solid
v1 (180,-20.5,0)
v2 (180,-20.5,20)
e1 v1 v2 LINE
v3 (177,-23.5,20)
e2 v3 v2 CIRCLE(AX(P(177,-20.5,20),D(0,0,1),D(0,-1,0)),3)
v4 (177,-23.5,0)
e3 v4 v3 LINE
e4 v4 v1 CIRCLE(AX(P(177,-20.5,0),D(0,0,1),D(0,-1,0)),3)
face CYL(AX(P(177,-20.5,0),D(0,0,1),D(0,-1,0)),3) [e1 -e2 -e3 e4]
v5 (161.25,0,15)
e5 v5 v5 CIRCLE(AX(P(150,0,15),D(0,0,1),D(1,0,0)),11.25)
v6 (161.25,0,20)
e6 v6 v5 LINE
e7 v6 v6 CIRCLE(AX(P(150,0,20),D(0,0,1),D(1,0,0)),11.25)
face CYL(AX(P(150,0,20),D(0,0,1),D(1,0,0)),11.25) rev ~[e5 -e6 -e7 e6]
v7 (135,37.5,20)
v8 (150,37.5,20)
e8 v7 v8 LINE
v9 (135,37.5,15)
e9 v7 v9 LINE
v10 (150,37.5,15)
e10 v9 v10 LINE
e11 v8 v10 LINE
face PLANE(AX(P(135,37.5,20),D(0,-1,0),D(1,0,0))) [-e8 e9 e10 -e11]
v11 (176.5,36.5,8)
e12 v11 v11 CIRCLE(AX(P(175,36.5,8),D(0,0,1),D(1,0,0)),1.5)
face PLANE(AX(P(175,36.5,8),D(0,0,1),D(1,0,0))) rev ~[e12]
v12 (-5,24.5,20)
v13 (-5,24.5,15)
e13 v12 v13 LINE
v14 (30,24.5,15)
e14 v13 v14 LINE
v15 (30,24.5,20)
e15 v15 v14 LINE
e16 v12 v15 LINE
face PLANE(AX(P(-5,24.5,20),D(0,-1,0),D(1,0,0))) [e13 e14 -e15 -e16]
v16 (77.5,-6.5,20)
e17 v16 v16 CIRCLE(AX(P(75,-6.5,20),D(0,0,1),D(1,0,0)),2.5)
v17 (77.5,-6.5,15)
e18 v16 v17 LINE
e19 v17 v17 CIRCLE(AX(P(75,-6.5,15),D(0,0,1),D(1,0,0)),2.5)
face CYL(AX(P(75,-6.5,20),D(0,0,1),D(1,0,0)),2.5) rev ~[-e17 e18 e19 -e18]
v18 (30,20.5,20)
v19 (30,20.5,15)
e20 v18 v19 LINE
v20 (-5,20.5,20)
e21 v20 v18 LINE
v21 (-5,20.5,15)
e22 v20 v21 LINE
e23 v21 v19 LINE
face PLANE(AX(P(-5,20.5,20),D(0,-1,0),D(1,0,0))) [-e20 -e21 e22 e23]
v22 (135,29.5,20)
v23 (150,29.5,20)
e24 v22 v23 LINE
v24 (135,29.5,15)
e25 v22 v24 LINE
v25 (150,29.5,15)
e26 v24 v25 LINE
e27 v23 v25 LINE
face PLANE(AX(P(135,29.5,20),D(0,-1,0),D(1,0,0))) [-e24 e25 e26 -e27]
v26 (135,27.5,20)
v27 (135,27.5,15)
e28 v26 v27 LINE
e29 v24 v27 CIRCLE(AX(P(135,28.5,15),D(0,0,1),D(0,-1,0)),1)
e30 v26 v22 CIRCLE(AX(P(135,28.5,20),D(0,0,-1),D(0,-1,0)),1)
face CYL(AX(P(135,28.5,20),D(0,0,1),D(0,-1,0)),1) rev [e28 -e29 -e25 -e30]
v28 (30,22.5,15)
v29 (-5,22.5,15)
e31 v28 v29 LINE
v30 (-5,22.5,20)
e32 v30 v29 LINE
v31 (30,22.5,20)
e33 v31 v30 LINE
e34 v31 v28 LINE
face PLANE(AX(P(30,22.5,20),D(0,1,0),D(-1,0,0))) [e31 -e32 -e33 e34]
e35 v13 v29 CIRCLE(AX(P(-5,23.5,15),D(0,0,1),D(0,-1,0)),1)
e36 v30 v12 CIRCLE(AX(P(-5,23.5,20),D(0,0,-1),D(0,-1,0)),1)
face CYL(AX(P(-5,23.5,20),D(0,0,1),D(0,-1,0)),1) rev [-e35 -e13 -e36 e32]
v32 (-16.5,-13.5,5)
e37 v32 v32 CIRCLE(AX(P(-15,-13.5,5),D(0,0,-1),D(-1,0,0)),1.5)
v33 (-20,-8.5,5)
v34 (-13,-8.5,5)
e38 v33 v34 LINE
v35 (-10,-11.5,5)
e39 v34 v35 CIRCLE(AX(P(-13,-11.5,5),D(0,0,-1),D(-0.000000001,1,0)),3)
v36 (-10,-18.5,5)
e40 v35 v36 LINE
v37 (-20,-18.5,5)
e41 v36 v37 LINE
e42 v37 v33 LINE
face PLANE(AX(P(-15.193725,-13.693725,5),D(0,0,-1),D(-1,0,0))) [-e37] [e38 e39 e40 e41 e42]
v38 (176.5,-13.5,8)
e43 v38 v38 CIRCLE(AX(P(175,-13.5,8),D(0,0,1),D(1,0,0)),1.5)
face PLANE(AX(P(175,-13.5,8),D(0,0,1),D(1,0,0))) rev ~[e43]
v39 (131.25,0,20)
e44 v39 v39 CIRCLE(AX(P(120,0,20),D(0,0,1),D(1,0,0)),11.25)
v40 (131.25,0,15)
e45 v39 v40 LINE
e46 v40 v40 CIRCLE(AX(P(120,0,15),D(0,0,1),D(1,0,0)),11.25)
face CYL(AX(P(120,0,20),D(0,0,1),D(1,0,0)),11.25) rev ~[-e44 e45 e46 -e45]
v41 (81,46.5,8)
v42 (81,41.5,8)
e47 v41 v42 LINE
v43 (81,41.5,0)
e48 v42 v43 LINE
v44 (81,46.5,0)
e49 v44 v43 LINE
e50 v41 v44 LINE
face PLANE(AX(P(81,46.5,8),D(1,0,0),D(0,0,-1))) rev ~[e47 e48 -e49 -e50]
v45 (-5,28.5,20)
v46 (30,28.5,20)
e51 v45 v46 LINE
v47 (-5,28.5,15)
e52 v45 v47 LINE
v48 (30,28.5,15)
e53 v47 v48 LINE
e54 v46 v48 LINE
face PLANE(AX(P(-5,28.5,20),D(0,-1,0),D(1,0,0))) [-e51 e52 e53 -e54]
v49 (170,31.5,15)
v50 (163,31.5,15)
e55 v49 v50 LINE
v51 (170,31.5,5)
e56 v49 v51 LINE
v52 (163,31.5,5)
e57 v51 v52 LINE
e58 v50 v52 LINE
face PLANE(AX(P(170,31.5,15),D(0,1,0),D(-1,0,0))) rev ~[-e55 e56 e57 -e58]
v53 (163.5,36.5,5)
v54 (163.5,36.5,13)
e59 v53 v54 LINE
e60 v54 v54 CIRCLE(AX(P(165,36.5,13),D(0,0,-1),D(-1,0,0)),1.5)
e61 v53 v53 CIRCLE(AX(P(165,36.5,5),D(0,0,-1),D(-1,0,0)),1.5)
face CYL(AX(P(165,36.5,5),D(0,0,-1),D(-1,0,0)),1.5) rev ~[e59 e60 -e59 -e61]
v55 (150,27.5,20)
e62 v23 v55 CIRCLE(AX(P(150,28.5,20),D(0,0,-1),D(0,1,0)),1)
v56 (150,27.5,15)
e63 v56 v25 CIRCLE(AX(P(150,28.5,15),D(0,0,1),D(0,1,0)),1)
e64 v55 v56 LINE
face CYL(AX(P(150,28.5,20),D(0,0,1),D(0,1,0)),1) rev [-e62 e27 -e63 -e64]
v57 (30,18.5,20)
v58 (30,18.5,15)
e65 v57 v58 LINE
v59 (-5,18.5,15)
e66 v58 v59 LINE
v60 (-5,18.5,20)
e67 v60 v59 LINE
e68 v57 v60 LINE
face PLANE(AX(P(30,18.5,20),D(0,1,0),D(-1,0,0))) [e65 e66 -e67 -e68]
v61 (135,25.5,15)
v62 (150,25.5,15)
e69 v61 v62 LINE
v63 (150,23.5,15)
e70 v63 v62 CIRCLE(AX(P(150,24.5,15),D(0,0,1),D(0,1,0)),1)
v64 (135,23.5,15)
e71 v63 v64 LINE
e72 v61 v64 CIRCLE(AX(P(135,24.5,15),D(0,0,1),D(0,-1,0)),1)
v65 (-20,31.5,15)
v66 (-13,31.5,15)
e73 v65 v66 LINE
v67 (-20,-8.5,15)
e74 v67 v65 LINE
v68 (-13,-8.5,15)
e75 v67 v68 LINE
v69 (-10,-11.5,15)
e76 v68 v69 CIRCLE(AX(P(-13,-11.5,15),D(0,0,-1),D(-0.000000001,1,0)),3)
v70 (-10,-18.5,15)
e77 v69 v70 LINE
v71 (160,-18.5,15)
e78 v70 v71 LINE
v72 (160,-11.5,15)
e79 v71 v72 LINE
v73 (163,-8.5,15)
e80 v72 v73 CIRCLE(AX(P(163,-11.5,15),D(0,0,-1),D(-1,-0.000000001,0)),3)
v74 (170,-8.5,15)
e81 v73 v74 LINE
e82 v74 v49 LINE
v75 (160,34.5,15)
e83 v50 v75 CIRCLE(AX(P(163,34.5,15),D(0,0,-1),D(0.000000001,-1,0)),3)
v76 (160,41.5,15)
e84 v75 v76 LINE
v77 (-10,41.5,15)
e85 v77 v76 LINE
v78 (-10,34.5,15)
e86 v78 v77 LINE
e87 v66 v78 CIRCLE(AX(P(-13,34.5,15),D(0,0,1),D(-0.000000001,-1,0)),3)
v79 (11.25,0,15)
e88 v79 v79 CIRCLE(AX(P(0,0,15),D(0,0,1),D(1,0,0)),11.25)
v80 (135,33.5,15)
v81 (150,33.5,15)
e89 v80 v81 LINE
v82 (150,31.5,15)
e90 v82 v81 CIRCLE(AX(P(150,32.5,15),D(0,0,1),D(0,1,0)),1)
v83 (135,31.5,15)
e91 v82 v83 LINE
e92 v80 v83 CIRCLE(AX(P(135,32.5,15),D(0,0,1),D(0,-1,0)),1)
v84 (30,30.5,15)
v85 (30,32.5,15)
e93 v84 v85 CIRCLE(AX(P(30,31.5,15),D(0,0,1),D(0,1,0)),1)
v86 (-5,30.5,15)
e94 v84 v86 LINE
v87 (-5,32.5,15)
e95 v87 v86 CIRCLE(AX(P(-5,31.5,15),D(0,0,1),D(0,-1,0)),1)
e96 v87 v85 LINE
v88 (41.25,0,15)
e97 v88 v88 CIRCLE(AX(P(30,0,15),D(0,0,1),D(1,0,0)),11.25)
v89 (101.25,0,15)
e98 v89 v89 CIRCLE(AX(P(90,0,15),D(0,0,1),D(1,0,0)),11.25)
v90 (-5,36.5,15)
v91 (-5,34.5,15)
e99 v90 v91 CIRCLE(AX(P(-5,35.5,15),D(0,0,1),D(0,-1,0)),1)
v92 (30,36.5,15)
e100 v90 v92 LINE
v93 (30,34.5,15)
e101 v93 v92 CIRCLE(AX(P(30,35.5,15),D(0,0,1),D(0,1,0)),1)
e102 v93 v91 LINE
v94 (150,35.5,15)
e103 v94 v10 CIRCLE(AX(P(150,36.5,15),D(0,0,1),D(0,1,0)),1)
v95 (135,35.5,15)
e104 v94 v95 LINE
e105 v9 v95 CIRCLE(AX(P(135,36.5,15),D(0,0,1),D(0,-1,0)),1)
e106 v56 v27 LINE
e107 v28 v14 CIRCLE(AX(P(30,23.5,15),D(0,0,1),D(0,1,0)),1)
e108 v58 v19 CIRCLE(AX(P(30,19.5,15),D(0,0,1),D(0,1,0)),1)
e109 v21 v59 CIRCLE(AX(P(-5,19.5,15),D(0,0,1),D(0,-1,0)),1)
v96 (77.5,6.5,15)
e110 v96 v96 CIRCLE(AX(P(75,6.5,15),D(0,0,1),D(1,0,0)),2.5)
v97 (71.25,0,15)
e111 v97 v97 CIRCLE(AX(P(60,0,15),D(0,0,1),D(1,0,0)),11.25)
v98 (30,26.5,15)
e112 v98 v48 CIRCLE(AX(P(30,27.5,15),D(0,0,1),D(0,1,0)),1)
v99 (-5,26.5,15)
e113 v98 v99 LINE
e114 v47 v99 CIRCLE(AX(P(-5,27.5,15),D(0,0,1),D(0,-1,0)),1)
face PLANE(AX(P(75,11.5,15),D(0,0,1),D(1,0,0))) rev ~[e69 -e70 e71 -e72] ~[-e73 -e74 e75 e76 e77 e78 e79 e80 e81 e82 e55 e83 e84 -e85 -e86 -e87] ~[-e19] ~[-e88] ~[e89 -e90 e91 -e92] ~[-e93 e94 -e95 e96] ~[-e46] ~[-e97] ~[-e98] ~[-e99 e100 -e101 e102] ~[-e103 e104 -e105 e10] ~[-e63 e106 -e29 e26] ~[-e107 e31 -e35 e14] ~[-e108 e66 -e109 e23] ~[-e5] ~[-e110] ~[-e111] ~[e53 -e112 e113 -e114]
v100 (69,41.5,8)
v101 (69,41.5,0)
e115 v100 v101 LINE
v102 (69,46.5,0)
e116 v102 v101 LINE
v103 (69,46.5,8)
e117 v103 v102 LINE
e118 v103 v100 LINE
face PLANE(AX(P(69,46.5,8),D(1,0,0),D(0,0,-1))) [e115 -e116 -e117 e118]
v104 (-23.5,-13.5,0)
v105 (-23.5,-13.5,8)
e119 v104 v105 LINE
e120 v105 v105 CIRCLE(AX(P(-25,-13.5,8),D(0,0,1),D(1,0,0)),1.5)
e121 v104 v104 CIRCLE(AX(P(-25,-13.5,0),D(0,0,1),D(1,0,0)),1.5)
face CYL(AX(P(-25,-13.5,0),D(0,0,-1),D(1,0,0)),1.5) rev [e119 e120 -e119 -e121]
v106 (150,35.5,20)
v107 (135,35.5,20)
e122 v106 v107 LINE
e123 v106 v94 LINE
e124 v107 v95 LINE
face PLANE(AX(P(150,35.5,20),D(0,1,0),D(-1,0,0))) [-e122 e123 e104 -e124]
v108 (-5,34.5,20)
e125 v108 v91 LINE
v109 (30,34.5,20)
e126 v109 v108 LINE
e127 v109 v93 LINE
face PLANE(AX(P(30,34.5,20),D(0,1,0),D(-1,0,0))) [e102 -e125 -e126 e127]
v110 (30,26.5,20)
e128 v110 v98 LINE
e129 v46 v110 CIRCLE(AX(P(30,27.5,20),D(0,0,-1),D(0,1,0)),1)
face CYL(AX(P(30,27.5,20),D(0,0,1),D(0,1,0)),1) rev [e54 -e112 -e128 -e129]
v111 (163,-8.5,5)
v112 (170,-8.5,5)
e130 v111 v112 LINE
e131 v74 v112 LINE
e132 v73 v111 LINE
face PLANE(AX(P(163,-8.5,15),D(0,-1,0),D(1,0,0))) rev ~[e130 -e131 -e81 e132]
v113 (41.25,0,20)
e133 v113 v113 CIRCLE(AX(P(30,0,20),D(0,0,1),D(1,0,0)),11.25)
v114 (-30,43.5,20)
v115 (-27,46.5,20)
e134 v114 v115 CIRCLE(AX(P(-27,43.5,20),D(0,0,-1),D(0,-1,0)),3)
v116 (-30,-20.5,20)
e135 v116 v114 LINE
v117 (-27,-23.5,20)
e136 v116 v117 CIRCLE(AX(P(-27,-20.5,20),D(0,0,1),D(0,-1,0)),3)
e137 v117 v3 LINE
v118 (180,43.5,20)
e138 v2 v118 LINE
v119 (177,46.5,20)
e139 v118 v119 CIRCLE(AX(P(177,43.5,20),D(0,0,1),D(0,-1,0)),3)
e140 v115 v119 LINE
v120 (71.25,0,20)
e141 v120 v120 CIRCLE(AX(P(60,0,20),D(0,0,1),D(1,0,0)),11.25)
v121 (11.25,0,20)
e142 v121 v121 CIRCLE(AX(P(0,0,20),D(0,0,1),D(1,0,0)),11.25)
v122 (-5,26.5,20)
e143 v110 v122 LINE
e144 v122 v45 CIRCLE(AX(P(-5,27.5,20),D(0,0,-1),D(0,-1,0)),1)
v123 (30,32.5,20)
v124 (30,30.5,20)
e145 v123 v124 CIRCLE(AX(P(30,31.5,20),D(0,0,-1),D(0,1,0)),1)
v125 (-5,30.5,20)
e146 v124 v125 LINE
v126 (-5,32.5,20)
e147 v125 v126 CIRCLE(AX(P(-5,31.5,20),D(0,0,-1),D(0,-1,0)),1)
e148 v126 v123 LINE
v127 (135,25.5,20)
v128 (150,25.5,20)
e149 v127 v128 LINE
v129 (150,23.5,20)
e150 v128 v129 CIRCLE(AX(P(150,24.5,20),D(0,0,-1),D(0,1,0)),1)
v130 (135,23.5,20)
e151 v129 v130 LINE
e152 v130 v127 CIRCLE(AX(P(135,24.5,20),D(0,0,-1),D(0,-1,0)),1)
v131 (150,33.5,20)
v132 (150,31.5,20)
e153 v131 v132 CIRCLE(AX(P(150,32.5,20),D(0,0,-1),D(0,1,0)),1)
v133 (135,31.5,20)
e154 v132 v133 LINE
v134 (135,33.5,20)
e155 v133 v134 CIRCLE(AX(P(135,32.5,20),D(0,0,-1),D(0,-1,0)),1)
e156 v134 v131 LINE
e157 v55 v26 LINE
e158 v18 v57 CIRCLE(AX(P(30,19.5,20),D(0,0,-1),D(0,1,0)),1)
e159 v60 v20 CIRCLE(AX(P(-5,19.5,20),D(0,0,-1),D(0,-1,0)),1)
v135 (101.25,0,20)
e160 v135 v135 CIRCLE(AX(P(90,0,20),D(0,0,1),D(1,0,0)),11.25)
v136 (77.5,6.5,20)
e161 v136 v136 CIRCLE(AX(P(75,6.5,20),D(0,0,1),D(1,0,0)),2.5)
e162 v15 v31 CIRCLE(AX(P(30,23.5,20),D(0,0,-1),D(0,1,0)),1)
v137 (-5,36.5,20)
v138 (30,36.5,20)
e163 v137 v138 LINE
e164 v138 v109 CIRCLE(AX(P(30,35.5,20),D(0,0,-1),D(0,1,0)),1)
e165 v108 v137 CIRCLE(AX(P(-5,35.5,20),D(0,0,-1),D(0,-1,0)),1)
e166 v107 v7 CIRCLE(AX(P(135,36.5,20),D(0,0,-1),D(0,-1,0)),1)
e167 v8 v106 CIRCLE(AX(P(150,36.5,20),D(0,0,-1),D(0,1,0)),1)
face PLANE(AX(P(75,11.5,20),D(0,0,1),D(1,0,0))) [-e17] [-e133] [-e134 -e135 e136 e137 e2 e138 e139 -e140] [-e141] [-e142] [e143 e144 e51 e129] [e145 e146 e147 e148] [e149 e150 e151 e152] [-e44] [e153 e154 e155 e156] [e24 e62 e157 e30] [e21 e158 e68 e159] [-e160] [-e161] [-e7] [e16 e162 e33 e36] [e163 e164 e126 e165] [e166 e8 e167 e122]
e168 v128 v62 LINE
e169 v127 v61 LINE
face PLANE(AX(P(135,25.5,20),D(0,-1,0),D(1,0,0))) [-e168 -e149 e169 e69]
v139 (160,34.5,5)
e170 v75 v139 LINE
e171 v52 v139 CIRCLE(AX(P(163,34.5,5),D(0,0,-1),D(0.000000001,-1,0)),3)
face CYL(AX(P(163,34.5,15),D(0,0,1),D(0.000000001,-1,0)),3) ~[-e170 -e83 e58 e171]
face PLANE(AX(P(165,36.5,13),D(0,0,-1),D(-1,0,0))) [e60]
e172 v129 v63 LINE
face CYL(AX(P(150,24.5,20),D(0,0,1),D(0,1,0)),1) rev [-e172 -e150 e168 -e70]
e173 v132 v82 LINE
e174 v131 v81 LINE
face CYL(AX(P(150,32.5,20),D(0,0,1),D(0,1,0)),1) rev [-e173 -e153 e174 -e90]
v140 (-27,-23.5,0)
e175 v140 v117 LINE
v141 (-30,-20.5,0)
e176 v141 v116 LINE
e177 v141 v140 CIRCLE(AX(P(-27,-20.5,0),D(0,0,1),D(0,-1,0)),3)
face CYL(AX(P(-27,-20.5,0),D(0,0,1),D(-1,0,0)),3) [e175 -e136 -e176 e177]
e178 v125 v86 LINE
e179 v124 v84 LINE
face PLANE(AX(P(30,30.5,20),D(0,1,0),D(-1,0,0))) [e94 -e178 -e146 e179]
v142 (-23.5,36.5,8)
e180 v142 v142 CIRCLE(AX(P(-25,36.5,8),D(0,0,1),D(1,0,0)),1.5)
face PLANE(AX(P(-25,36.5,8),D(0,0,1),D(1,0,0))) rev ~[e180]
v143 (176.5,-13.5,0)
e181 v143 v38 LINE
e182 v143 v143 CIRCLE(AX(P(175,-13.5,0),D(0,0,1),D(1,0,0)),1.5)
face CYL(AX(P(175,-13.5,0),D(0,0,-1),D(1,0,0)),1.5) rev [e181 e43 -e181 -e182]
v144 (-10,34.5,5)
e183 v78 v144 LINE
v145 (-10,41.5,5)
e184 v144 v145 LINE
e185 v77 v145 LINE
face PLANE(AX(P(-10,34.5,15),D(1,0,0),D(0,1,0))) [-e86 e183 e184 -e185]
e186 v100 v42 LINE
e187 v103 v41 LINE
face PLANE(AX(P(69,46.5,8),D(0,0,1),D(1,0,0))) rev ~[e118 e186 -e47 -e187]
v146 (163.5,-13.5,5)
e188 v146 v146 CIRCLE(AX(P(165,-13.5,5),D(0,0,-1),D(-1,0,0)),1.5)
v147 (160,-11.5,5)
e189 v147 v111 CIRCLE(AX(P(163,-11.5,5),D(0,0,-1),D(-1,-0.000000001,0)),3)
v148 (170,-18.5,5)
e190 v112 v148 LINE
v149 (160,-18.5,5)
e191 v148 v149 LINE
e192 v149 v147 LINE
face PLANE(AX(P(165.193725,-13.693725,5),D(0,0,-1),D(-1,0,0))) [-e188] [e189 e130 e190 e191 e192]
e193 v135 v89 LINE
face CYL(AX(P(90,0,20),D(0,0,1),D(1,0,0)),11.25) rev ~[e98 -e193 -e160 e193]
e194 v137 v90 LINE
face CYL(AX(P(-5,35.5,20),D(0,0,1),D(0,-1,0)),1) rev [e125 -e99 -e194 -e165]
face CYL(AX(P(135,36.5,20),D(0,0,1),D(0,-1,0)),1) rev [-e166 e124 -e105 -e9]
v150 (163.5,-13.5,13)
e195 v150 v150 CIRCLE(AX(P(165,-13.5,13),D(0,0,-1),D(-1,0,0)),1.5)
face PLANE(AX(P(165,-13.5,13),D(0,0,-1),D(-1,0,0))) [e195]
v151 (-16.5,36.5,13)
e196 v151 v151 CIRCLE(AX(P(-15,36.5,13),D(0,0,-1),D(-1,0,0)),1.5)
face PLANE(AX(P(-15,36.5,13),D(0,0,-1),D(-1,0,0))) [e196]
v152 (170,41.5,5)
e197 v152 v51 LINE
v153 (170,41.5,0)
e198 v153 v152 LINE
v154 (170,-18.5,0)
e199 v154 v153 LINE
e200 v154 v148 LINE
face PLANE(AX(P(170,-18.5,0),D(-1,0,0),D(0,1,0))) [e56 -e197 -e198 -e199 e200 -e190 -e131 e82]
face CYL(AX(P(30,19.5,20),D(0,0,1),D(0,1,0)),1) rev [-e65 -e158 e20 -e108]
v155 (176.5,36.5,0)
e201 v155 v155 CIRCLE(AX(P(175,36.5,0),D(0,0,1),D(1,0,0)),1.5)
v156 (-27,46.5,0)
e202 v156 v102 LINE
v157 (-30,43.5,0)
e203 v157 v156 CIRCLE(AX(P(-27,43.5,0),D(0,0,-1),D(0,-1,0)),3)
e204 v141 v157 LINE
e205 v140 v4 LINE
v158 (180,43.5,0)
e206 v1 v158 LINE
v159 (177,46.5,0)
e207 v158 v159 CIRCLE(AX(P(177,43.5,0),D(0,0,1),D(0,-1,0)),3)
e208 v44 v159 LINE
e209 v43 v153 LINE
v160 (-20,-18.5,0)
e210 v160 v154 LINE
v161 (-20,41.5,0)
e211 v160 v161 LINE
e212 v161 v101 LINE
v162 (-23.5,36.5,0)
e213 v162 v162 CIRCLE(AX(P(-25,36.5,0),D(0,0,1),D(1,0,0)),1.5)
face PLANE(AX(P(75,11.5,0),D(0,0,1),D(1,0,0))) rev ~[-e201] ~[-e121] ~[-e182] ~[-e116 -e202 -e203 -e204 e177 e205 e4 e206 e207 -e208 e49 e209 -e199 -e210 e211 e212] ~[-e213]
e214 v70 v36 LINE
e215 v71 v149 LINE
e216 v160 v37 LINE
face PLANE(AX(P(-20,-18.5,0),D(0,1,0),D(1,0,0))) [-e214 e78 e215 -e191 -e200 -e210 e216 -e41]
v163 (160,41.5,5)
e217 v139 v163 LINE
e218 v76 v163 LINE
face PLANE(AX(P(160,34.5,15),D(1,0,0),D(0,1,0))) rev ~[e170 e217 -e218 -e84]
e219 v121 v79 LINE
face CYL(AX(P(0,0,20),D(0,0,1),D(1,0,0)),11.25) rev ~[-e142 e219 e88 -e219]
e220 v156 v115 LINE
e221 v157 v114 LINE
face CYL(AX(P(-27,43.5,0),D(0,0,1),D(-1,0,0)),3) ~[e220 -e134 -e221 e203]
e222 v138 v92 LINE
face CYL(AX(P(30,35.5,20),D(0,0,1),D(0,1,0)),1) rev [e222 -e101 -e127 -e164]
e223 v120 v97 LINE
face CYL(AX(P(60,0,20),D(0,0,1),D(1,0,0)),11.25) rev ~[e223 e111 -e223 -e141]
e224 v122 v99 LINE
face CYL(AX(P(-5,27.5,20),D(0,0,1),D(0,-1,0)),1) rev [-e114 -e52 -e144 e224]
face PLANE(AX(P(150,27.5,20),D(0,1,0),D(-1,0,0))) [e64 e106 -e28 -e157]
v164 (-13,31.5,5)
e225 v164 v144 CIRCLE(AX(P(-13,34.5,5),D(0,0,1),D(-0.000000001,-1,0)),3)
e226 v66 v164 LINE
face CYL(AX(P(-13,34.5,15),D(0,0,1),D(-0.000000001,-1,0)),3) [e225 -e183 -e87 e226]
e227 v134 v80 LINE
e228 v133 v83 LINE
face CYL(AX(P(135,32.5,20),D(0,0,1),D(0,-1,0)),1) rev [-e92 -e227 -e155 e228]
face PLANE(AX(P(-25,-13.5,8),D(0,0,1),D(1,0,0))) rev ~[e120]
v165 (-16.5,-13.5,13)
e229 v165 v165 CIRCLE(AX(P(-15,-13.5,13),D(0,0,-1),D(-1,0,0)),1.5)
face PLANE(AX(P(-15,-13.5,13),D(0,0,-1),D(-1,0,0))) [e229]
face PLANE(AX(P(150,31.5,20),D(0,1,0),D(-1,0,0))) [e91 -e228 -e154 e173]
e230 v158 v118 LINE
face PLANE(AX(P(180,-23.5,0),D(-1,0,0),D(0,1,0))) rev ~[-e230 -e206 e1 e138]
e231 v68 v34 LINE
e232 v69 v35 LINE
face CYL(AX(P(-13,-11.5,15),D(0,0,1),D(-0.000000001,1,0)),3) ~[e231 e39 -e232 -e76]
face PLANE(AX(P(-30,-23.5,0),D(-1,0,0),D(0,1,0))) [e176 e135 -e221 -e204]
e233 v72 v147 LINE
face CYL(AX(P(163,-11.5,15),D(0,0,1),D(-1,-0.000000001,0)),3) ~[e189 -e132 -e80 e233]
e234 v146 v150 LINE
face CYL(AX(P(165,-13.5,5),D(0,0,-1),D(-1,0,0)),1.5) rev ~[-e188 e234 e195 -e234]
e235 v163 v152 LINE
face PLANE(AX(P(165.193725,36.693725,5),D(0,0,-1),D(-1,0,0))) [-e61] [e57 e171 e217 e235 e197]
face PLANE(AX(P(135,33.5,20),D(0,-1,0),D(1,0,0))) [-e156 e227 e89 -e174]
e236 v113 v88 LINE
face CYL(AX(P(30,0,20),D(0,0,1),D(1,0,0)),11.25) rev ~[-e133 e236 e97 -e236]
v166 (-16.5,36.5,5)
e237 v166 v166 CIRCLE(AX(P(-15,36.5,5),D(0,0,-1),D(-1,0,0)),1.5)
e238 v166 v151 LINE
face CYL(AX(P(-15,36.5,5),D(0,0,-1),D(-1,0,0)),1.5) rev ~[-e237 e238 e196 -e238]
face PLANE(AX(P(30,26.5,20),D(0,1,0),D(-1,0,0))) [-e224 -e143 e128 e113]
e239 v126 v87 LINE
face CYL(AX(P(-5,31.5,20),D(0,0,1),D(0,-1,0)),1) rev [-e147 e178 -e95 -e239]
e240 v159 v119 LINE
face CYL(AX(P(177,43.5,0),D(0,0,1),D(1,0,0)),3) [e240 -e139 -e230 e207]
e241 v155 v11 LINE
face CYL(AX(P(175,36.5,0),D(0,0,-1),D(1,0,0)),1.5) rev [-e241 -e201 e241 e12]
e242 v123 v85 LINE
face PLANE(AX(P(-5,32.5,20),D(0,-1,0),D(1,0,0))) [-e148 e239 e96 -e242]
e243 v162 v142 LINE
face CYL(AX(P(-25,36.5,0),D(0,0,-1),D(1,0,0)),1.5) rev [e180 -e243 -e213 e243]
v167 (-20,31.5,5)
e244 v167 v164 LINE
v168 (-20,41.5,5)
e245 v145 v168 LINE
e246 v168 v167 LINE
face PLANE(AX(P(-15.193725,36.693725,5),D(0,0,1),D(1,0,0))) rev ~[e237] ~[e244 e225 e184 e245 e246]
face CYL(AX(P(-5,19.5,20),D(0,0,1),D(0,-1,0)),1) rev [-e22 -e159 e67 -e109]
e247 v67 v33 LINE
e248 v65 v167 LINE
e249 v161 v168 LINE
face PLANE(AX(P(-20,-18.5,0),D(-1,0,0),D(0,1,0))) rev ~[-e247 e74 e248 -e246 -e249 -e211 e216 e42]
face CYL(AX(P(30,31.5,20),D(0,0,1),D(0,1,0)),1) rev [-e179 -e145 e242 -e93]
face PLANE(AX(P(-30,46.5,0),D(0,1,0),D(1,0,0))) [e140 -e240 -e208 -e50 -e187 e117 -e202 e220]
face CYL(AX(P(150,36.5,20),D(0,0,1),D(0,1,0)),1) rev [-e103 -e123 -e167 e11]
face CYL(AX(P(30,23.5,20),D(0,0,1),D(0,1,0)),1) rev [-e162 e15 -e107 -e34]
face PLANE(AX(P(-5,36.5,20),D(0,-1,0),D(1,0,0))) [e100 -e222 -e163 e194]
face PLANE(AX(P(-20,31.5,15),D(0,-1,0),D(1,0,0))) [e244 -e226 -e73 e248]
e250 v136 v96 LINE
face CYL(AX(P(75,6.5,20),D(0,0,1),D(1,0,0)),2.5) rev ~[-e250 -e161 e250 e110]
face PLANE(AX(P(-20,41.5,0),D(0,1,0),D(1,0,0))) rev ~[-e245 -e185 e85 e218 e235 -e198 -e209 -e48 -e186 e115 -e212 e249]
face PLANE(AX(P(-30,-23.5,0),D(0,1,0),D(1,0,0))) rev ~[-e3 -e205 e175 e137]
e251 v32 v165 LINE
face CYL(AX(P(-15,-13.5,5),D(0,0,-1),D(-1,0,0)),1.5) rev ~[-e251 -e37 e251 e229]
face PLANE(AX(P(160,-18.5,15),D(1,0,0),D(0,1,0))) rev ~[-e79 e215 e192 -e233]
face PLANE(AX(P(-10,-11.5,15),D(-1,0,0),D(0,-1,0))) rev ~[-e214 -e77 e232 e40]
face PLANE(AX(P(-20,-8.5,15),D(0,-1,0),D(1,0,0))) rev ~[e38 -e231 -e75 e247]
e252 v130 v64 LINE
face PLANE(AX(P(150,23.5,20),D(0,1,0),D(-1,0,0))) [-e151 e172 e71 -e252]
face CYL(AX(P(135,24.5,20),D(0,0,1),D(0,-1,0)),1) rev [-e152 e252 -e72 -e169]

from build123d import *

# Parameters (mm, degrees)
SKETCH_1_W          = 210
SKETCH_1_H          = 70
EXTRUDE_1_DEPTH     = 20
FILLET_1_R          = 3
SKETCH_2_W          = 190
SKETCH_2_H          = 60
CUT_EXTRUDE_1_DEPTH = 15
SKETCH_3_R          = 1.5
CUT_EXTRUDE_2_DEPTH = 8
SKETCH_4_W          = 12
SKETCH_4_H          = 8
CUT_EXTRUDE_3_DEPTH = 5
SKETCH_5_R          = 11.25
SKETCH_5_R_2        = 2.5
CUT_EXTRUDE_4_DEPTH = 10
EXTRUDE_2_DEPTH     = 10
SKETCH_8_R          = 1.5
CUT_EXTRUDE_5_DEPTH = 8


with BuildPart() as part:
    # 草图1 → 凸台-拉伸1 (new body)
    with BuildSketch(Plane.XY):
        with Locations((75, 11.5)):
            Rectangle(SKETCH_1_W, SKETCH_1_H)
    extrude(amount=EXTRUDE_1_DEPTH)

    # 圆角1
    fillet_1_edges = [part.edges().sort_by_distance(p)[0] for p in [
        (-30, 46.5, 10),
        (180, 46.5, 10),
        (180, -23.5, 10),
        (-30, -23.5, 10),
    ]]
    fillet(fillet_1_edges, radius=FILLET_1_R)

    # 草图2 → 切除-拉伸1 (cut)
    with BuildSketch(Plane.XY):
        with Locations((75, 11.5)):
            Rectangle(SKETCH_2_W, SKETCH_2_H)
    extrude(amount=CUT_EXTRUDE_1_DEPTH, mode=Mode.SUBTRACT)

    # 草图3 → 切除-拉伸2 (cut)
    with BuildSketch(Plane.XY):
        with Locations((-25, 36.5)):
            Circle(SKETCH_3_R)
        with Locations((175, 36.5)):
            Circle(SKETCH_3_R)
        with Locations((-25, -13.5)):
            Circle(SKETCH_3_R)
        with Locations((175, -13.5)):
            Circle(SKETCH_3_R)
    extrude(amount=CUT_EXTRUDE_2_DEPTH, mode=Mode.SUBTRACT)

    # 草图4 → 切除-拉伸3 (cut)
    with BuildSketch(Plane(origin=(0, 46.5, 0), x_dir=(1, 0, 0), z_dir=(0, 1, 0))):
        with Locations((75, -4)):
            Rectangle(SKETCH_4_W, SKETCH_4_H)
    extrude(amount=-CUT_EXTRUDE_3_DEPTH, mode=Mode.SUBTRACT)

    # 草图5 → 切除-拉伸4 (cut)
    with BuildSketch(Plane.XY.offset(20)):
        Circle(SKETCH_5_R)
        with Locations((30, 0)):
            Circle(SKETCH_5_R)
        with Locations((60, 0)):
            Circle(SKETCH_5_R)
        with Locations((90, 0)):
            Circle(SKETCH_5_R)
        with Locations((120, 0)):
            Circle(SKETCH_5_R)
        with Locations((150, 0)):
            Circle(SKETCH_5_R)
        with Locations((75, -6.5)):
            Circle(SKETCH_5_R_2)
        with Locations((75, 6.5)):
            Circle(SKETCH_5_R_2)
        with BuildLine():
            Line((-5, 36.5), (30, 36.5))
            ThreePointArc((30, 36.5), (31, 35.5), (30, 34.5))
            Line((30, 34.5), (-5, 34.5))
            ThreePointArc((-5, 34.5), (-6, 35.5), (-5, 36.5))
        make_face()
        with BuildLine():
            Line((-5, 32.5), (30, 32.5))
            ThreePointArc((30, 32.5), (31, 31.5), (30, 30.5))
            Line((30, 30.5), (-5, 30.5))
            ThreePointArc((-5, 30.5), (-6, 31.5), (-5, 32.5))
        make_face()
        with BuildLine():
            Line((-5, 28.5), (30, 28.5))
            ThreePointArc((30, 28.5), (31, 27.5), (30, 26.5))
            Line((30, 26.5), (-5, 26.5))
            ThreePointArc((-5, 26.5), (-6, 27.5), (-5, 28.5))
        make_face()
        with BuildLine():
            Line((-5, 24.5), (30, 24.5))
            ThreePointArc((30, 24.5), (31, 23.5), (30, 22.5))
            Line((30, 22.5), (-5, 22.5))
            ThreePointArc((-5, 22.5), (-6, 23.5), (-5, 24.5))
        make_face()
        with BuildLine():
            Line((-5, 20.5), (30, 20.5))
            ThreePointArc((30, 20.5), (31, 19.5), (30, 18.5))
            Line((30, 18.5), (-5, 18.5))
            ThreePointArc((-5, 18.5), (-6, 19.5), (-5, 20.5))
        make_face()
        with BuildLine():
            Line((135, 37.5), (150, 37.5))
            ThreePointArc((150, 37.5), (151, 36.5), (150, 35.5))
            Line((150, 35.5), (135, 35.5))
            ThreePointArc((135, 35.5), (134, 36.5), (135, 37.5))
        make_face()
        with BuildLine():
            Line((135, 33.5), (150, 33.5))
            ThreePointArc((150, 33.5), (151, 32.5), (150, 31.5))
            Line((150, 31.5), (135, 31.5))
            ThreePointArc((135, 31.5), (134, 32.5), (135, 33.5))
        make_face()
        with BuildLine():
            Line((135, 29.5), (150, 29.5))
            ThreePointArc((150, 29.5), (151, 28.5), (150, 27.5))
            Line((150, 27.5), (135, 27.5))
            ThreePointArc((135, 27.5), (134, 28.5), (135, 29.5))
        make_face()
        with BuildLine():
            Line((135, 25.5), (150, 25.5))
            ThreePointArc((150, 25.5), (151, 24.5), (150, 23.5))
            Line((150, 23.5), (135, 23.5))
            ThreePointArc((135, 23.5), (134, 24.5), (135, 25.5))
        make_face()
    extrude(amount=-CUT_EXTRUDE_4_DEPTH, mode=Mode.SUBTRACT)

    # 草图6 → 凸台-拉伸2 (add)
    with BuildSketch(Plane.XY.offset(15)):
        with BuildLine():
            Line((-20, 31.5), (-13, 31.5))
            ThreePointArc((-13, 31.5), (-10.878679656, 32.378679656), (-10, 34.5))
            Line((-10, 34.5), (-10, 41.5))
            Line((-10, 41.5), (-20, 41.5))
            Line((-20, 41.5), (-20, 31.5))
        make_face()
        with BuildLine():
            Line((170, 41.5), (170, 31.5))
            Line((170, 31.5), (163, 31.5))
            ThreePointArc((163, 31.5), (160.878679656, 32.378679656), (160, 34.5))
            Line((160, 34.5), (160, 41.5))
            Line((160, 41.5), (170, 41.5))
        make_face()
        with BuildLine():
            Line((-20, -8.5), (-13, -8.5))
            ThreePointArc((-13, -8.5), (-10.878679656, -9.378679656), (-10, -11.5))
            Line((-10, -11.5), (-10, -18.5))
            Line((-10, -18.5), (-20, -18.5))
            Line((-20, -18.5), (-20, -8.5))
        make_face()
        with BuildLine():
            Line((170, -18.5), (160, -18.5))
            Line((160, -18.5), (160, -11.5))
            ThreePointArc((160, -11.5), (160.878679656, -9.378679656), (163, -8.5))
            Line((163, -8.5), (170, -8.5))
            Line((170, -8.5), (170, -18.5))
        make_face()
    extrude(amount=-EXTRUDE_2_DEPTH)

    # 草图8 → 切除-拉伸5 (cut)
    with BuildSketch(Plane(origin=(0, 0, 5), x_dir=(-1, 0, 0), z_dir=(0, 0, -1))):
        with Locations((-165, 36.5)):
            Circle(SKETCH_8_R)
        with Locations((15, 36.5)):
            Circle(SKETCH_8_R)
        with Locations((-165, -13.5)):
            Circle(SKETCH_8_R)
        with Locations((15, -13.5)):
            Circle(SKETCH_8_R)
    extrude(amount=-CUT_EXTRUDE_5_DEPTH, mode=Mode.SUBTRACT)


solid = part.part
